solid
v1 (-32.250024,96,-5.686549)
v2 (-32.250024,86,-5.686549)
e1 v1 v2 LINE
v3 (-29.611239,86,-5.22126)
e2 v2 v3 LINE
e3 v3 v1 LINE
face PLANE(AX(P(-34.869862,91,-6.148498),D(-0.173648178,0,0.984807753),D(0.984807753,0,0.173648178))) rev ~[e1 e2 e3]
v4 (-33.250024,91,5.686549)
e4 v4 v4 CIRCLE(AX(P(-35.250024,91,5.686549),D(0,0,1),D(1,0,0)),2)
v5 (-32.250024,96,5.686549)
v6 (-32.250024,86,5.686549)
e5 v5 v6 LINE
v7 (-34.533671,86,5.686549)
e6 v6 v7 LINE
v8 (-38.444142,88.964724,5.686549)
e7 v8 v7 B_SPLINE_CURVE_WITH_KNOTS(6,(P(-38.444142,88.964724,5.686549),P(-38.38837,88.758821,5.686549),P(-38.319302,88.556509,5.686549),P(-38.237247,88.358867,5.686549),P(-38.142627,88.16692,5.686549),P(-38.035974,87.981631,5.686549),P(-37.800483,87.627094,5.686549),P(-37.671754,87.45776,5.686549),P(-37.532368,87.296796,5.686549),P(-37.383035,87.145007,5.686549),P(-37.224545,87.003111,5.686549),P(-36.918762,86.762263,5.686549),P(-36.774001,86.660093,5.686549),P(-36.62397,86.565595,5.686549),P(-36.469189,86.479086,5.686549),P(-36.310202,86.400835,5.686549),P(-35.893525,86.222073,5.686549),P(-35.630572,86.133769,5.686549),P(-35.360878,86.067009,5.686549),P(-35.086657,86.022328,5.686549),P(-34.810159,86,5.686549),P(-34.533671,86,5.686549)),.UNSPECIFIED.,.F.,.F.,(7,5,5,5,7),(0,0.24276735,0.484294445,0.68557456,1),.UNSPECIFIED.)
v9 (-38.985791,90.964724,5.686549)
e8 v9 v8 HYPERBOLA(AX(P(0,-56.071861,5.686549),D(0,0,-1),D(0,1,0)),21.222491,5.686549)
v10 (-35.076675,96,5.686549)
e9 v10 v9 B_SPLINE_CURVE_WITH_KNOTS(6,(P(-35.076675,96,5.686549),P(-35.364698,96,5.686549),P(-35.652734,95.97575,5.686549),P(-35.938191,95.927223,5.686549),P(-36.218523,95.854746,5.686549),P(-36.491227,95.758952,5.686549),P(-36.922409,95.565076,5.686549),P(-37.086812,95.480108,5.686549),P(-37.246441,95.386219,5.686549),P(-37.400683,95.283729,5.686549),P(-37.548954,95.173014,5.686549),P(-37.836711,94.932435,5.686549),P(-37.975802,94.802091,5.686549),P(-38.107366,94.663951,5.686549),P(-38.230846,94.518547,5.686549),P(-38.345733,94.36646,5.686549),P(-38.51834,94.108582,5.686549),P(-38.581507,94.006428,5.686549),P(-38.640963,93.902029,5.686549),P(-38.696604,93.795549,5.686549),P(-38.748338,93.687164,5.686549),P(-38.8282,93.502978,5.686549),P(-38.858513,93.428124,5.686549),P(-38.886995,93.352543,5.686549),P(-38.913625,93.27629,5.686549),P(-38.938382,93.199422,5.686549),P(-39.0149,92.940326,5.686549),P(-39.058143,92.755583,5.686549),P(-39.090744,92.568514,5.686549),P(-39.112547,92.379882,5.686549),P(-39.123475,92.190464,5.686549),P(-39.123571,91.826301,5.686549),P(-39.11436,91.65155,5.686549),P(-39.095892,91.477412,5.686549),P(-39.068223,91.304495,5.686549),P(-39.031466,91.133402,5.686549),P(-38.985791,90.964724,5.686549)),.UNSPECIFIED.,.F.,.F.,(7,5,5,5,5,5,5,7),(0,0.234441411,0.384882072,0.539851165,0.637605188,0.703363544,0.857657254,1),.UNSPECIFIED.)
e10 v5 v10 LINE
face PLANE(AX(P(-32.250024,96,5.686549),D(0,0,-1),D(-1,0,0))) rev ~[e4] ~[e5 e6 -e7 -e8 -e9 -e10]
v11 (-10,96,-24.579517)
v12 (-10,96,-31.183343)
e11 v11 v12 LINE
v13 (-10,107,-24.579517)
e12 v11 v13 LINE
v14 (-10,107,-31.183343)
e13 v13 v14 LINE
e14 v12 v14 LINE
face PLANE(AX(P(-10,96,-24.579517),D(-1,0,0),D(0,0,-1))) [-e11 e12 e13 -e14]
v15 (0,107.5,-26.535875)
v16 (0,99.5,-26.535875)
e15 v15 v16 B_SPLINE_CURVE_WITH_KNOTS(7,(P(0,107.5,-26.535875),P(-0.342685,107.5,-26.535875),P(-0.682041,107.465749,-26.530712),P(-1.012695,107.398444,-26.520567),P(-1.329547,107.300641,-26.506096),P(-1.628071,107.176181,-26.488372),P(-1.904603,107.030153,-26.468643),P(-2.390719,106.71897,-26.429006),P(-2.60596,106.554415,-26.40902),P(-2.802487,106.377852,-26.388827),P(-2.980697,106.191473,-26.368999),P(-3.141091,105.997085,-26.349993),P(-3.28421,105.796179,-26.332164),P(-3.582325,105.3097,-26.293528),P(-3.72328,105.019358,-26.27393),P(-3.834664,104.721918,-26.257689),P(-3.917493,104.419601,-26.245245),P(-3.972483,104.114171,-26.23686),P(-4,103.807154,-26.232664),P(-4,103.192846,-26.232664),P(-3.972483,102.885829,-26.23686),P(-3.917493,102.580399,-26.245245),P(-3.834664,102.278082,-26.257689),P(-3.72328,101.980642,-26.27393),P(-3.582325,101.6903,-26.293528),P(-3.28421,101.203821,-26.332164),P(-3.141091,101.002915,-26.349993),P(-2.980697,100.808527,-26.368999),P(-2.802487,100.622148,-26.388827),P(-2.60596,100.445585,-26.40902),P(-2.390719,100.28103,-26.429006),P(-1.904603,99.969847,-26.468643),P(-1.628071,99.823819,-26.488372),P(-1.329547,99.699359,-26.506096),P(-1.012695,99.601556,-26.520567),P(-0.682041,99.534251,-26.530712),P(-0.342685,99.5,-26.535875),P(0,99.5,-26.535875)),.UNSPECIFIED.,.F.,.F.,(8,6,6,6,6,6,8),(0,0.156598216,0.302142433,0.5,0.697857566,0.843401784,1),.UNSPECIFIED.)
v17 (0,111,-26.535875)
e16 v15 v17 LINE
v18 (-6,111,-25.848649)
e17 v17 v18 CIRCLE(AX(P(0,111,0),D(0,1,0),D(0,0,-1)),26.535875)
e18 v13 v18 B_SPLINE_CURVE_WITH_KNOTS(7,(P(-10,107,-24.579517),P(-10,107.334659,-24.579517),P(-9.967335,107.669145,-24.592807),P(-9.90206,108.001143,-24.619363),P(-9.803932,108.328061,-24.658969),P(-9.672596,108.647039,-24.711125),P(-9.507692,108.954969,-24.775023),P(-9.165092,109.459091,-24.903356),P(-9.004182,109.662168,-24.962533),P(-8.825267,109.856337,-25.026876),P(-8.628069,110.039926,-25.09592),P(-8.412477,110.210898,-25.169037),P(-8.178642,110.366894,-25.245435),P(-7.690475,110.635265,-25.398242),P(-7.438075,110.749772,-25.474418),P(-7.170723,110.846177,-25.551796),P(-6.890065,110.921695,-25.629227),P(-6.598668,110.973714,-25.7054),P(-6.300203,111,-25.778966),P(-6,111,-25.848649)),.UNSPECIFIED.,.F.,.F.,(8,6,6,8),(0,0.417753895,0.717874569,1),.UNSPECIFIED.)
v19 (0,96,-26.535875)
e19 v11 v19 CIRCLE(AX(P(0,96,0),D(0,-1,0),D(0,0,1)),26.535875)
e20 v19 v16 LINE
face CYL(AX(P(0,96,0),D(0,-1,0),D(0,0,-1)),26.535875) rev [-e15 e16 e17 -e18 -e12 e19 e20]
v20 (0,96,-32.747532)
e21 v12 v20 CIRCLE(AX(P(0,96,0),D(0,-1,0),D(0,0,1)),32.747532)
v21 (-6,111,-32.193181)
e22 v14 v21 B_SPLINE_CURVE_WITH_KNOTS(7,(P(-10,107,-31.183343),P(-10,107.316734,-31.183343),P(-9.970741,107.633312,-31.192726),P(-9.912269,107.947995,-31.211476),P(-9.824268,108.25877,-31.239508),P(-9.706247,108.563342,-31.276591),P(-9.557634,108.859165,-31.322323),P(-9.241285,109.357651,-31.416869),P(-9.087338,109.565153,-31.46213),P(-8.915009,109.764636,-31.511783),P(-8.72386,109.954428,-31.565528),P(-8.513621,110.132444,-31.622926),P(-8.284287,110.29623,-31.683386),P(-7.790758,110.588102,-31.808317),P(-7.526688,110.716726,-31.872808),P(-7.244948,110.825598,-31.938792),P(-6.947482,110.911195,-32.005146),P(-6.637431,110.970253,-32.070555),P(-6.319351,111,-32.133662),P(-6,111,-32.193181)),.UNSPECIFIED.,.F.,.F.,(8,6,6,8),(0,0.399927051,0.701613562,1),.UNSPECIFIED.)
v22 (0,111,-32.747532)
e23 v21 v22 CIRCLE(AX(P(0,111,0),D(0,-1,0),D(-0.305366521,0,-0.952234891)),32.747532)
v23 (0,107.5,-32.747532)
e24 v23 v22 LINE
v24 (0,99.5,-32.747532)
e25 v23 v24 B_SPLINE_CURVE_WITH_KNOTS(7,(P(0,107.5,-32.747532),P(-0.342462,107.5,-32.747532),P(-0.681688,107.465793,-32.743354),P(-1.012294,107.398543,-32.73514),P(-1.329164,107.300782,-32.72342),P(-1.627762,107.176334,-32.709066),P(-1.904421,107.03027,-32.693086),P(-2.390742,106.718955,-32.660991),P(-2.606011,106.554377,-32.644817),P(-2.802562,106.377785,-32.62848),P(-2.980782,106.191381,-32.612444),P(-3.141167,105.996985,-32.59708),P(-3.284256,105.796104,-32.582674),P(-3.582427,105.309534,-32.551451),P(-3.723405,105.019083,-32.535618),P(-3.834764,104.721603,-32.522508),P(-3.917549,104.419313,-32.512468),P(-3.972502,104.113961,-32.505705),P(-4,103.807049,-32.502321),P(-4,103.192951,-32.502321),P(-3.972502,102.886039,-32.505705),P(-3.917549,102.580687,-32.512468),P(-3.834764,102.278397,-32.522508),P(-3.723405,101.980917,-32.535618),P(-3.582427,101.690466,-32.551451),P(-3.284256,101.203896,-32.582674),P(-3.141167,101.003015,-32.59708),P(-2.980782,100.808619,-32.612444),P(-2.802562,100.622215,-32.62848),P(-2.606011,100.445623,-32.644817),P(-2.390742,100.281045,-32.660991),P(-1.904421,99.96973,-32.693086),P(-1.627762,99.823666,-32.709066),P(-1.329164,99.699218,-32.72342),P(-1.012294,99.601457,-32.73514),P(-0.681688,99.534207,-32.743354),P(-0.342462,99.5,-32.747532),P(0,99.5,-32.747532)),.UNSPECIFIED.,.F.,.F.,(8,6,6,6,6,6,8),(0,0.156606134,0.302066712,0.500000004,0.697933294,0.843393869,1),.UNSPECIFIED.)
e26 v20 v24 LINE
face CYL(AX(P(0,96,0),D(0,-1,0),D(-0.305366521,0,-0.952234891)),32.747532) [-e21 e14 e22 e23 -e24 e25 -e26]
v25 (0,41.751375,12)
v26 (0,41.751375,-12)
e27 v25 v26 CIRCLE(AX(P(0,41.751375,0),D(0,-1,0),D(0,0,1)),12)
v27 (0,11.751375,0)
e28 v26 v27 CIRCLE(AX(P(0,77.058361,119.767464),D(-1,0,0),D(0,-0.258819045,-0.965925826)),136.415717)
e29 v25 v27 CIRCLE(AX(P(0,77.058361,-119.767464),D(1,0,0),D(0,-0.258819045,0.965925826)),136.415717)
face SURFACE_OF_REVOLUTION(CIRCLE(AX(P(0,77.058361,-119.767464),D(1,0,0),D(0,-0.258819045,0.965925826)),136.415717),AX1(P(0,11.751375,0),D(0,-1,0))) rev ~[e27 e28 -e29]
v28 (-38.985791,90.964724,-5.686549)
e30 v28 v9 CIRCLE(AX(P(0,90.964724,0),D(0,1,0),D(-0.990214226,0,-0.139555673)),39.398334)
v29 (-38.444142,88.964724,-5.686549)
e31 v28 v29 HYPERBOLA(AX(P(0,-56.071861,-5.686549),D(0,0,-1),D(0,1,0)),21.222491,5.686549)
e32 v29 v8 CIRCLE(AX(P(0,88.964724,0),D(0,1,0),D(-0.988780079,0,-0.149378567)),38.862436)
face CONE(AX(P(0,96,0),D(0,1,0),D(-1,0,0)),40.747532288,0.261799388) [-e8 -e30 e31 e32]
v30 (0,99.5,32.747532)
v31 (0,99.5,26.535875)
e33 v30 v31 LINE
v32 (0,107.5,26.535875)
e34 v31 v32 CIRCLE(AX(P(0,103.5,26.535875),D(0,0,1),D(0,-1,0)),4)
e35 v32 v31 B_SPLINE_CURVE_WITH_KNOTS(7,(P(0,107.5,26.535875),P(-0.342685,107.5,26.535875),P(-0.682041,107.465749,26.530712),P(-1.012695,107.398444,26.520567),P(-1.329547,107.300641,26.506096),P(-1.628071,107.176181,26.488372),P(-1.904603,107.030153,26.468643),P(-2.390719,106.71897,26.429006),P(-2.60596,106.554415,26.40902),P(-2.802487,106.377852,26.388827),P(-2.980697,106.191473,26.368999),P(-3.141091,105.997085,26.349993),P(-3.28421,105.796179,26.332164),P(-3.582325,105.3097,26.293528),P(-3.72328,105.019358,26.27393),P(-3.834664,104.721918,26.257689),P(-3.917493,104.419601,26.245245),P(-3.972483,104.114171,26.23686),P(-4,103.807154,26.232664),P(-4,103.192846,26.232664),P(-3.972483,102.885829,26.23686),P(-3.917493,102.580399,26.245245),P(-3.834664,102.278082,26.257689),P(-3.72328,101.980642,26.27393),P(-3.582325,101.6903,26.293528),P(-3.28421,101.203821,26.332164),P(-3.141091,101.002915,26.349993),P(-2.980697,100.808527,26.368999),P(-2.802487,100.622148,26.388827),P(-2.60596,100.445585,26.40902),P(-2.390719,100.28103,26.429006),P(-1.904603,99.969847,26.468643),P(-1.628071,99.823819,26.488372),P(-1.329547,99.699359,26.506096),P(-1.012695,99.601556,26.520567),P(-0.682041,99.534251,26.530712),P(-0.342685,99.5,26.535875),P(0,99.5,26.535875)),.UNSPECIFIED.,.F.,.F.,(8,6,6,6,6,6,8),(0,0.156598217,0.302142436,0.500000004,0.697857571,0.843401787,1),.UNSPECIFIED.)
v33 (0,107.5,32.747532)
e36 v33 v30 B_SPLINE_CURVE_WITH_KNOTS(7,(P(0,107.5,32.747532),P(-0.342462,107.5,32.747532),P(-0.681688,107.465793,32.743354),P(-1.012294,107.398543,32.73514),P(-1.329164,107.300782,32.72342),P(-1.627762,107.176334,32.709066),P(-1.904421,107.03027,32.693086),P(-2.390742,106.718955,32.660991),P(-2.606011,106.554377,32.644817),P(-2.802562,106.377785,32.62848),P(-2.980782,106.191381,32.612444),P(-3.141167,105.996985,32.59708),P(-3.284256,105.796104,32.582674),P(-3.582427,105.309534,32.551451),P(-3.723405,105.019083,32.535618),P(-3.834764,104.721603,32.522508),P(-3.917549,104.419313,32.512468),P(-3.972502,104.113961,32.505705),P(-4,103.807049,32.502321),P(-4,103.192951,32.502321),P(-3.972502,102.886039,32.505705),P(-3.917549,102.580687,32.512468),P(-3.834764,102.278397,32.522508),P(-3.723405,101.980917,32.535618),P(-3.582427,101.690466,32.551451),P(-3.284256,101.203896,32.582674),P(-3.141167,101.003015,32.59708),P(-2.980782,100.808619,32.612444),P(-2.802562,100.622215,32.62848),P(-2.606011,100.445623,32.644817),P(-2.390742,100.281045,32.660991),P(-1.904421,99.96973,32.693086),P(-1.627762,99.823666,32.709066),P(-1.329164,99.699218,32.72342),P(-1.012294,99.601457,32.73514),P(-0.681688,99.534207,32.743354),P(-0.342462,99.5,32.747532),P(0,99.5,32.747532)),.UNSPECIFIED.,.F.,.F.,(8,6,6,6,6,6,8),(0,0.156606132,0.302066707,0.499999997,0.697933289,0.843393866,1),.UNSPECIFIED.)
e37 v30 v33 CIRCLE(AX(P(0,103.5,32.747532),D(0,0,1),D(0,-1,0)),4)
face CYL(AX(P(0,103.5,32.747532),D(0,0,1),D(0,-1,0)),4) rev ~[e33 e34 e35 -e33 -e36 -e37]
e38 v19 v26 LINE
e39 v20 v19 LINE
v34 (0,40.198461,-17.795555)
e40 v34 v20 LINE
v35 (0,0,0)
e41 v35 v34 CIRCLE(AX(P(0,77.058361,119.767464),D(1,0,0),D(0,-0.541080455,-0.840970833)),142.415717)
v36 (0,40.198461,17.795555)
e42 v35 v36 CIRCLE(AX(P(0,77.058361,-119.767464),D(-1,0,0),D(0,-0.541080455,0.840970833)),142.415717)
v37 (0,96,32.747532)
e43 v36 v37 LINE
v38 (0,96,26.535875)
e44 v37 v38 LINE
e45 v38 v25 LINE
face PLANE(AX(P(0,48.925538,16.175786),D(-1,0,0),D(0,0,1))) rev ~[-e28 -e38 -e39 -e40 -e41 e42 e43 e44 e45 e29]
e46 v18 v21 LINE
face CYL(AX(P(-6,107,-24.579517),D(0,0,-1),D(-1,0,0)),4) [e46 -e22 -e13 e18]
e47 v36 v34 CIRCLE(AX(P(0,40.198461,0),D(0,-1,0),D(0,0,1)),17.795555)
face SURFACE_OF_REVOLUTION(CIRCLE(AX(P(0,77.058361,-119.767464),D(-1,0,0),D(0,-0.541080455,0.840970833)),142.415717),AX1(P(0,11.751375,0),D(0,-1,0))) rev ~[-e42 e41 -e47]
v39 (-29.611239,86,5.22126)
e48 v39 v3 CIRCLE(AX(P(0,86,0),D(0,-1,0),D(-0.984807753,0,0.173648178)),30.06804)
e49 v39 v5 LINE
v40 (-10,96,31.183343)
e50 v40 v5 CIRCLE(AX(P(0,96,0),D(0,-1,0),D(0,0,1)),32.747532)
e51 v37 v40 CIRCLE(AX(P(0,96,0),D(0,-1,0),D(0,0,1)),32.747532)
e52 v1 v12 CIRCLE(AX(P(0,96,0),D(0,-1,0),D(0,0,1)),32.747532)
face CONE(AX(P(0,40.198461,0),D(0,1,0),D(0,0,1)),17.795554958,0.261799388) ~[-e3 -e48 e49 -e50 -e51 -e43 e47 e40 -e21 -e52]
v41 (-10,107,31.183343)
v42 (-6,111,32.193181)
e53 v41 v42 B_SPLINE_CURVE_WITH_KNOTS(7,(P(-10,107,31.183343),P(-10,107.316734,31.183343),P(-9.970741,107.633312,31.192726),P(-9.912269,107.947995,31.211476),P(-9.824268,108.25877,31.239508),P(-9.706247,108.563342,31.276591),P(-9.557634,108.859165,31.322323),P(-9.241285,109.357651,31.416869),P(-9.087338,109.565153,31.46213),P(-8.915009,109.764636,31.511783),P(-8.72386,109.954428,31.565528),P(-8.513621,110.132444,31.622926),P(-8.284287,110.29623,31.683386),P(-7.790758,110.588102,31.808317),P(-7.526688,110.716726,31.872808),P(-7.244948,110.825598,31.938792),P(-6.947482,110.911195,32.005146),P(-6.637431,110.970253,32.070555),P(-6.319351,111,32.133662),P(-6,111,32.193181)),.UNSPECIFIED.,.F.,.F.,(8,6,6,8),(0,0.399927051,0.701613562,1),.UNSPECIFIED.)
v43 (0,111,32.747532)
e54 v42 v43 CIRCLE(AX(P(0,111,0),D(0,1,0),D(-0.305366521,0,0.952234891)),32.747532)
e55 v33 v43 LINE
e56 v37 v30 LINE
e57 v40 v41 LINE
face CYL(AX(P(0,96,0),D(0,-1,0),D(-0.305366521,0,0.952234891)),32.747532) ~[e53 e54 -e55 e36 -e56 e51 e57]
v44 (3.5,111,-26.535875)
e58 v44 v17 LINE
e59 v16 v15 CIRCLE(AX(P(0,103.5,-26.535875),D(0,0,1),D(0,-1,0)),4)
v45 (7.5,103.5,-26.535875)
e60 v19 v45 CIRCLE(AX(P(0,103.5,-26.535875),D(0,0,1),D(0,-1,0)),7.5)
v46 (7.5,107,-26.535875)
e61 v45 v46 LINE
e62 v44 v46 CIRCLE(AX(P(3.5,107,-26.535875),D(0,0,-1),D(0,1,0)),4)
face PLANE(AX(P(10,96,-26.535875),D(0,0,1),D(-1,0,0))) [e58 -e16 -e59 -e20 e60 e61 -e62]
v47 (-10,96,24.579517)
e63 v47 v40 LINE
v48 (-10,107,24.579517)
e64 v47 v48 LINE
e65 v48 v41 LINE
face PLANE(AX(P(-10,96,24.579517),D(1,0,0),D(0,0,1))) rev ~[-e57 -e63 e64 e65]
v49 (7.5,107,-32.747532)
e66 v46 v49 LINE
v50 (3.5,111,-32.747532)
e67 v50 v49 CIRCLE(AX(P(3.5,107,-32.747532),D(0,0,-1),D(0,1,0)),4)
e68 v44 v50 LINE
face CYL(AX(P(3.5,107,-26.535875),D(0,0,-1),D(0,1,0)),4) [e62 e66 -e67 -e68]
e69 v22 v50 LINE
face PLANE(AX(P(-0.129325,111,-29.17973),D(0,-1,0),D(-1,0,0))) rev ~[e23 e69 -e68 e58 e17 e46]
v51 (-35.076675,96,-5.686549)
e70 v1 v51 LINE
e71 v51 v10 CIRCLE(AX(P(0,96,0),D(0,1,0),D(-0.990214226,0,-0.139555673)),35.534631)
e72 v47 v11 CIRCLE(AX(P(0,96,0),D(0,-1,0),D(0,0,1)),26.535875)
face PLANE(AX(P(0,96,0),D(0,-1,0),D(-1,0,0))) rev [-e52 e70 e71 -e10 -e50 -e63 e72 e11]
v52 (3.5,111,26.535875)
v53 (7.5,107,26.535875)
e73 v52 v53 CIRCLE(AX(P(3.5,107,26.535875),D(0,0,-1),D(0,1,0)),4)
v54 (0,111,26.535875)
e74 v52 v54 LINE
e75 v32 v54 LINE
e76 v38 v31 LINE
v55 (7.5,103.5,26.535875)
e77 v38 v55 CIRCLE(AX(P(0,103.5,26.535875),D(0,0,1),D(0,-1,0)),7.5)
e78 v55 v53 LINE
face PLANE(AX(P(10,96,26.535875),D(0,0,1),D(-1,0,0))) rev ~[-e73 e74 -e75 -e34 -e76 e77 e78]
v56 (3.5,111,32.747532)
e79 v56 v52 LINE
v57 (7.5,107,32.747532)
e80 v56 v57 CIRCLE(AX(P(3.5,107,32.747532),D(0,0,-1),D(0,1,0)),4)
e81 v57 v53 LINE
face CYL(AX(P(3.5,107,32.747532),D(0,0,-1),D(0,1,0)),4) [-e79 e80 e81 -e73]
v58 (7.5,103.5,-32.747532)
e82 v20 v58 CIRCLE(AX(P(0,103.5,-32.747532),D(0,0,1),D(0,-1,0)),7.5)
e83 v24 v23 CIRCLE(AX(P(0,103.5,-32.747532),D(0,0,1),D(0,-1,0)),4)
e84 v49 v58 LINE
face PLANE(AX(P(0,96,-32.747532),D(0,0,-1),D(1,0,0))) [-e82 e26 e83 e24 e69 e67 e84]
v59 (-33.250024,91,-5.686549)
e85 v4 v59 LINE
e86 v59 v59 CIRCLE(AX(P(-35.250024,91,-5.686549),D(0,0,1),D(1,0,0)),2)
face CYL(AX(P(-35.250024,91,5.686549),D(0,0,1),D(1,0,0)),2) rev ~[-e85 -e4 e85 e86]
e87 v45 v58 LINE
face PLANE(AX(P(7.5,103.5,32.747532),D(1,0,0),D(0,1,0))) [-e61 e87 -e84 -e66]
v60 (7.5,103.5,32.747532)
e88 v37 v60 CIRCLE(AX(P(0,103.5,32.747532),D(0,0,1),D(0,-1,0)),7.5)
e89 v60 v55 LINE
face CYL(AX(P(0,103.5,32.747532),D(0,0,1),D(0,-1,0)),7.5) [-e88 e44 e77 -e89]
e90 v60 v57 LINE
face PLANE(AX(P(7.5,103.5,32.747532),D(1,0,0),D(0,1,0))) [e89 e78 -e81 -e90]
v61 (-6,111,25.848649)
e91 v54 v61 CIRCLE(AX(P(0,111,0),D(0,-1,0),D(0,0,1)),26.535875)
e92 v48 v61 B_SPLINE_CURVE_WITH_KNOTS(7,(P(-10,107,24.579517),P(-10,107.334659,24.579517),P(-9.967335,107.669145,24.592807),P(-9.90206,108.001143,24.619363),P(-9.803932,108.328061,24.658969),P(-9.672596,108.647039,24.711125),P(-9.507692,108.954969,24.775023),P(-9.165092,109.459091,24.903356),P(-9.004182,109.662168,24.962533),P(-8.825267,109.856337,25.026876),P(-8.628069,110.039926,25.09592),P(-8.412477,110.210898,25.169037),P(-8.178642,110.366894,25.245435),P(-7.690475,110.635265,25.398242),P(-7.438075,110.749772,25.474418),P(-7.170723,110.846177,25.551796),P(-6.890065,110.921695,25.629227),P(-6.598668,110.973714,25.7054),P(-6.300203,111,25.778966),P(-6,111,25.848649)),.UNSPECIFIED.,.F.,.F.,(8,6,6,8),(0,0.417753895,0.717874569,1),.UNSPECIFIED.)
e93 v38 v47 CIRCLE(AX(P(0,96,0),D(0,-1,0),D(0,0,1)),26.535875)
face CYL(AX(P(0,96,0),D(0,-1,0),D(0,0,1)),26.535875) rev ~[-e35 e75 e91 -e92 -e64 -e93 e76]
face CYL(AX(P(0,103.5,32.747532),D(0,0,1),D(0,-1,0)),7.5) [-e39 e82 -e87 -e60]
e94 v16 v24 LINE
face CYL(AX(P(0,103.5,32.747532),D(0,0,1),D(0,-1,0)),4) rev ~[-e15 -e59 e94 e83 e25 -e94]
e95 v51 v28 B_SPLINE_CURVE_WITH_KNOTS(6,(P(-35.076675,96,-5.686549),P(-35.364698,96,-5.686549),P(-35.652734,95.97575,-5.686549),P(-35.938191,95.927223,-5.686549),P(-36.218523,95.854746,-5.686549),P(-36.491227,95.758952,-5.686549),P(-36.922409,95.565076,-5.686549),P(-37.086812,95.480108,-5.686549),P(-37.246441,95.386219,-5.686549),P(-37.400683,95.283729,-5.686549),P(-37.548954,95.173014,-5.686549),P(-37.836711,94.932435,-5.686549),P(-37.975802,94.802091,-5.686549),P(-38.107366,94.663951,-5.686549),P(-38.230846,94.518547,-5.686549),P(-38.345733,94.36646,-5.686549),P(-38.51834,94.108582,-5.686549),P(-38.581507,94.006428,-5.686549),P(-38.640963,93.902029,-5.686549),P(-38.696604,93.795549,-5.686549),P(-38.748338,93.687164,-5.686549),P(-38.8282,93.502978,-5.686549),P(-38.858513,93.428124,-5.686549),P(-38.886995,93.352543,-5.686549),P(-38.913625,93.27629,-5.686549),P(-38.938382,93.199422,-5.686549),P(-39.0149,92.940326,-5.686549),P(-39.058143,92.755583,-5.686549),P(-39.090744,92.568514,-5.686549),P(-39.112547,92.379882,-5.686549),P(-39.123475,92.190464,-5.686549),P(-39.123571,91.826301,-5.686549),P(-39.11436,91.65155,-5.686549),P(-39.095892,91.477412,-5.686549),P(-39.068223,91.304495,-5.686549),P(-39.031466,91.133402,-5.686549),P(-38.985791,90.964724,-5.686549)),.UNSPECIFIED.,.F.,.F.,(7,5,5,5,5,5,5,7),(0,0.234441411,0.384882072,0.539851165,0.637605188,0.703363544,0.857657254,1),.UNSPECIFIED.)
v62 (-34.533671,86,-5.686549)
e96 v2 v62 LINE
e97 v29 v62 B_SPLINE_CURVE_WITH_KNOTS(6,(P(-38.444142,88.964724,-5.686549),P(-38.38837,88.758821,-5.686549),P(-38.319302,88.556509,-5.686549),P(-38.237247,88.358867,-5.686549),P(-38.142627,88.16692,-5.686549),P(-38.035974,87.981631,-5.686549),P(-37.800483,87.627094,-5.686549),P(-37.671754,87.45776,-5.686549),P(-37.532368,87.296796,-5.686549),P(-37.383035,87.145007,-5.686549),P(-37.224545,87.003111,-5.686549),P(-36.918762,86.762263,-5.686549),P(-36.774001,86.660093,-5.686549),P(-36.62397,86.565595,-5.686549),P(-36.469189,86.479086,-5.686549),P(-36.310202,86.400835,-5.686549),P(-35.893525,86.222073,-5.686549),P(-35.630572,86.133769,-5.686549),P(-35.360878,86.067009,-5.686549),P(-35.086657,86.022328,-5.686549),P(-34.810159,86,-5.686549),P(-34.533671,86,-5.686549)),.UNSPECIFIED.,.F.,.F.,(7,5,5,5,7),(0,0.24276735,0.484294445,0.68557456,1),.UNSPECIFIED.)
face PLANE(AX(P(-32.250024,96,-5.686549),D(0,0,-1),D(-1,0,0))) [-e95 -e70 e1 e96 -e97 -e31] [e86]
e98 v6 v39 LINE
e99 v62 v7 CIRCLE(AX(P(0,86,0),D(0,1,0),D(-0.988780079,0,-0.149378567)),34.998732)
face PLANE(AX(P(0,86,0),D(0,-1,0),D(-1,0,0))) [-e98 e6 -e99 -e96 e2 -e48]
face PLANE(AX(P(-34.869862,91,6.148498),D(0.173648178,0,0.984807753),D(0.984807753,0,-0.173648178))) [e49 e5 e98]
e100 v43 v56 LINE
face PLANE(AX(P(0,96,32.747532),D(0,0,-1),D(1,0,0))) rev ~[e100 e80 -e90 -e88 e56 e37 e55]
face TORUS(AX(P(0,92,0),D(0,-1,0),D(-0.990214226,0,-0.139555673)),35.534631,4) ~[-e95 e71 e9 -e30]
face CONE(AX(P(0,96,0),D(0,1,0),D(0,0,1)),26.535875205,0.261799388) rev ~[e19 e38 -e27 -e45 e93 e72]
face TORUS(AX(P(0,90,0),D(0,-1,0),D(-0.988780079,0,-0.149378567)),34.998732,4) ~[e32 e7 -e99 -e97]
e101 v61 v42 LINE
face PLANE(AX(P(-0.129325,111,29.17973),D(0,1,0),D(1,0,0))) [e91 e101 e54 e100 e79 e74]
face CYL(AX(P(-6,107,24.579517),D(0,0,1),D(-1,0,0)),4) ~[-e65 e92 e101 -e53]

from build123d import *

# Parameters (mm, degrees)
REVOLUCI_N1_ANGLE           = 180
SALIENTE_EXTRUIR1_DEPTH     = 15
CROQUIS4_R                  = 4
CORTAR_EXTRUIR1_DEPTH       = 133.97745807
REVOLUCI_N2_ANGLE           = 10
REVOLUCI_N2_OTHER_WAY_ANGLE = 10
CORTAR_EXTRUIR2_DEPTH       = 10
CROQUIS7_R                  = 2
CORTAR_EXTRUIR3_DEPTH       = 125.332377301
CORTAR_EXTRUIR4_DEPTH       = 136.17013319
REDONDEO1_R                 = 4


with BuildPart() as part:
    # Croquis1 → Revolución1 (revolve)
    with BuildSketch(Plane(origin=(0, 0, 0), x_dir=(0, 0, -1), z_dir=(1, 0, 0))):
        with BuildLine():
            Line((-17.795554958, 40.198460931), (-32.747532288, 96))
            Line((-32.747532288, 96), (-26.535875205, 96))
            Line((-26.535875205, 96), (-12, 41.751375201))
            ThreePointArc((-12, 41.751375201), (-6.891349359, 26.394835458), (0, 11.751375201))
            Line((0, 11.751375201), (0, 0))
            ThreePointArc((0, 0), (-10.458199488, 19.408443431), (-17.795554958, 40.198460931))
        make_face()
    revolve(axis=Axis((0, 11.751375201, 0), (0, -1, 0)), revolution_arc=REVOLUCI_N1_ANGLE)

    # Croquis3 → Saliente-Extruir1 (add)
    with BuildSketch(Plane(origin=(0, 96, 0), x_dir=(1, 0, 0), z_dir=(0, 1, 0))):
        with BuildLine():
            Line((-10, -24.579517345), (-10, -31.183342844))
            ThreePointArc((-10, -31.183342844), (-5.060797581, -32.354121821), (0, -32.747532288))
            Line((0, -32.747532288), (10, -32.747532288))
            Line((10, -32.747532288), (10, -26.535875205))
            Line((10, -26.535875205), (0, -26.535875205))
            ThreePointArc((0, -26.535875205), (-5.094784983, -26.042193435), (-10, -24.579517345))
        make_face()
        with BuildLine():
            Line((-10, 24.579517345), (-10, 31.183342844))
            ThreePointArc((-10, 31.183342844), (-5.060797581, 32.354121821), (0, 32.747532288))
            Line((0, 32.747532288), (10, 32.747532288))
            Line((10, 32.747532288), (10, 26.535875205))
            Line((10, 26.535875205), (0, 26.535875205))
            ThreePointArc((0, 26.535875205), (-5.094784983, 26.042193435), (-10, 24.579517345))
        make_face()
    extrude(amount=SALIENTE_EXTRUIR1_DEPTH)

    # Croquis4 → Cortar-Extruir1 (cut, through all)
    with BuildSketch(Plane.XY.offset(32.747532288)):
        with Locations(Location((0, 103.5, 0), (0, 0, 270))):
            Circle(CROQUIS4_R)
    extrude(amount=-CORTAR_EXTRUIR1_DEPTH, mode=Mode.SUBTRACT)

    # Croquis5 → Revolución2 (revolve)
    with BuildSketch(Plane.XY):
        Polygon((-32.747532288, 96), (-40.747532288, 96), (-38.068040363, 86), (-30.068040363, 86), align=None)
    revolve(axis=Axis((0, 0, 0), (0, 1, 0)), revolution_arc=REVOLUCI_N2_ANGLE)

    # Croquis5 → Revolución2 other way (revolve)
    with BuildSketch(Plane.XY):
        Polygon((-32.747532288, 96), (-40.747532288, 96), (-38.068040363, 86), (-30.068040363, 86), align=None)
    revolve(axis=Axis((0, 0, 0), (0, -1, 0)), revolution_arc=REVOLUCI_N2_OTHER_WAY_ANGLE)

    # Croquis6 → Cortar-Extruir2 (cut)
    with BuildSketch(Plane(origin=(0, 96, 0), x_dir=(1, 0, 0), z_dir=(0, 1, 0))):
        Polygon((-32.250023689, 5.686549305), (-40.348786159, 5.686549305), (-40.128485713, 7.075734726), align=None)
        Polygon((-32.250023689, -5.686549305), (-40.348786159, -5.686549305), (-40.128485713, -7.075734726), align=None)
    extrude(amount=-CORTAR_EXTRUIR2_DEPTH, mode=Mode.SUBTRACT)


with BuildPart() as cortar_extruir2_kept_piece:
    # of the separate pieces the step leaves, the one the design keeps (cortar_extruir2_pieces_kept)
    add(part.part.solids().sort_by_distance((0, 40.198460931, 17.795554958))[0])

    # Croquis7 → Cortar-Extruir3 (cut, through all)
    with BuildSketch(Plane.XY.offset(5.686549305)):
        with Locations((-35.250023689, 91)):
            Circle(CROQUIS7_R)
    extrude(amount=-CORTAR_EXTRUIR3_DEPTH, mode=Mode.SUBTRACT)

    # Croquis8 → Cortar-Extruir4 (cut, through all)
    with BuildSketch(Plane.XY.offset(32.747532288)):
        with BuildLine():
            Line((7.5, 103.5), (7.5, 111))
            Line((7.5, 111), (10, 111))
            Line((10, 111), (10, 96))
            Line((10, 96), (0, 96))
            ThreePointArc((0, 96), (5.303300859, 98.196699141), (7.5, 103.5))
        make_face()
    extrude(amount=-CORTAR_EXTRUIR4_DEPTH, mode=Mode.SUBTRACT)

    # Redondeo1
    redondeo1_edges = [cortar_extruir2_kept_piece.edges().sort_by_distance(p)[0] for p in [
        (7.5, 111, -29.641703747),
        (7.5, 111, 29.641703747),
        (-10, 111, -27.881430095),
        (-10, 111, 27.881430095),
        (-38.068040363, 86, 0),
        (-40.747532288, 96, 0),
    ]]
    fillet(redondeo1_edges, radius=REDONDEO1_R)


solid = cortar_extruir2_kept_piece.part
